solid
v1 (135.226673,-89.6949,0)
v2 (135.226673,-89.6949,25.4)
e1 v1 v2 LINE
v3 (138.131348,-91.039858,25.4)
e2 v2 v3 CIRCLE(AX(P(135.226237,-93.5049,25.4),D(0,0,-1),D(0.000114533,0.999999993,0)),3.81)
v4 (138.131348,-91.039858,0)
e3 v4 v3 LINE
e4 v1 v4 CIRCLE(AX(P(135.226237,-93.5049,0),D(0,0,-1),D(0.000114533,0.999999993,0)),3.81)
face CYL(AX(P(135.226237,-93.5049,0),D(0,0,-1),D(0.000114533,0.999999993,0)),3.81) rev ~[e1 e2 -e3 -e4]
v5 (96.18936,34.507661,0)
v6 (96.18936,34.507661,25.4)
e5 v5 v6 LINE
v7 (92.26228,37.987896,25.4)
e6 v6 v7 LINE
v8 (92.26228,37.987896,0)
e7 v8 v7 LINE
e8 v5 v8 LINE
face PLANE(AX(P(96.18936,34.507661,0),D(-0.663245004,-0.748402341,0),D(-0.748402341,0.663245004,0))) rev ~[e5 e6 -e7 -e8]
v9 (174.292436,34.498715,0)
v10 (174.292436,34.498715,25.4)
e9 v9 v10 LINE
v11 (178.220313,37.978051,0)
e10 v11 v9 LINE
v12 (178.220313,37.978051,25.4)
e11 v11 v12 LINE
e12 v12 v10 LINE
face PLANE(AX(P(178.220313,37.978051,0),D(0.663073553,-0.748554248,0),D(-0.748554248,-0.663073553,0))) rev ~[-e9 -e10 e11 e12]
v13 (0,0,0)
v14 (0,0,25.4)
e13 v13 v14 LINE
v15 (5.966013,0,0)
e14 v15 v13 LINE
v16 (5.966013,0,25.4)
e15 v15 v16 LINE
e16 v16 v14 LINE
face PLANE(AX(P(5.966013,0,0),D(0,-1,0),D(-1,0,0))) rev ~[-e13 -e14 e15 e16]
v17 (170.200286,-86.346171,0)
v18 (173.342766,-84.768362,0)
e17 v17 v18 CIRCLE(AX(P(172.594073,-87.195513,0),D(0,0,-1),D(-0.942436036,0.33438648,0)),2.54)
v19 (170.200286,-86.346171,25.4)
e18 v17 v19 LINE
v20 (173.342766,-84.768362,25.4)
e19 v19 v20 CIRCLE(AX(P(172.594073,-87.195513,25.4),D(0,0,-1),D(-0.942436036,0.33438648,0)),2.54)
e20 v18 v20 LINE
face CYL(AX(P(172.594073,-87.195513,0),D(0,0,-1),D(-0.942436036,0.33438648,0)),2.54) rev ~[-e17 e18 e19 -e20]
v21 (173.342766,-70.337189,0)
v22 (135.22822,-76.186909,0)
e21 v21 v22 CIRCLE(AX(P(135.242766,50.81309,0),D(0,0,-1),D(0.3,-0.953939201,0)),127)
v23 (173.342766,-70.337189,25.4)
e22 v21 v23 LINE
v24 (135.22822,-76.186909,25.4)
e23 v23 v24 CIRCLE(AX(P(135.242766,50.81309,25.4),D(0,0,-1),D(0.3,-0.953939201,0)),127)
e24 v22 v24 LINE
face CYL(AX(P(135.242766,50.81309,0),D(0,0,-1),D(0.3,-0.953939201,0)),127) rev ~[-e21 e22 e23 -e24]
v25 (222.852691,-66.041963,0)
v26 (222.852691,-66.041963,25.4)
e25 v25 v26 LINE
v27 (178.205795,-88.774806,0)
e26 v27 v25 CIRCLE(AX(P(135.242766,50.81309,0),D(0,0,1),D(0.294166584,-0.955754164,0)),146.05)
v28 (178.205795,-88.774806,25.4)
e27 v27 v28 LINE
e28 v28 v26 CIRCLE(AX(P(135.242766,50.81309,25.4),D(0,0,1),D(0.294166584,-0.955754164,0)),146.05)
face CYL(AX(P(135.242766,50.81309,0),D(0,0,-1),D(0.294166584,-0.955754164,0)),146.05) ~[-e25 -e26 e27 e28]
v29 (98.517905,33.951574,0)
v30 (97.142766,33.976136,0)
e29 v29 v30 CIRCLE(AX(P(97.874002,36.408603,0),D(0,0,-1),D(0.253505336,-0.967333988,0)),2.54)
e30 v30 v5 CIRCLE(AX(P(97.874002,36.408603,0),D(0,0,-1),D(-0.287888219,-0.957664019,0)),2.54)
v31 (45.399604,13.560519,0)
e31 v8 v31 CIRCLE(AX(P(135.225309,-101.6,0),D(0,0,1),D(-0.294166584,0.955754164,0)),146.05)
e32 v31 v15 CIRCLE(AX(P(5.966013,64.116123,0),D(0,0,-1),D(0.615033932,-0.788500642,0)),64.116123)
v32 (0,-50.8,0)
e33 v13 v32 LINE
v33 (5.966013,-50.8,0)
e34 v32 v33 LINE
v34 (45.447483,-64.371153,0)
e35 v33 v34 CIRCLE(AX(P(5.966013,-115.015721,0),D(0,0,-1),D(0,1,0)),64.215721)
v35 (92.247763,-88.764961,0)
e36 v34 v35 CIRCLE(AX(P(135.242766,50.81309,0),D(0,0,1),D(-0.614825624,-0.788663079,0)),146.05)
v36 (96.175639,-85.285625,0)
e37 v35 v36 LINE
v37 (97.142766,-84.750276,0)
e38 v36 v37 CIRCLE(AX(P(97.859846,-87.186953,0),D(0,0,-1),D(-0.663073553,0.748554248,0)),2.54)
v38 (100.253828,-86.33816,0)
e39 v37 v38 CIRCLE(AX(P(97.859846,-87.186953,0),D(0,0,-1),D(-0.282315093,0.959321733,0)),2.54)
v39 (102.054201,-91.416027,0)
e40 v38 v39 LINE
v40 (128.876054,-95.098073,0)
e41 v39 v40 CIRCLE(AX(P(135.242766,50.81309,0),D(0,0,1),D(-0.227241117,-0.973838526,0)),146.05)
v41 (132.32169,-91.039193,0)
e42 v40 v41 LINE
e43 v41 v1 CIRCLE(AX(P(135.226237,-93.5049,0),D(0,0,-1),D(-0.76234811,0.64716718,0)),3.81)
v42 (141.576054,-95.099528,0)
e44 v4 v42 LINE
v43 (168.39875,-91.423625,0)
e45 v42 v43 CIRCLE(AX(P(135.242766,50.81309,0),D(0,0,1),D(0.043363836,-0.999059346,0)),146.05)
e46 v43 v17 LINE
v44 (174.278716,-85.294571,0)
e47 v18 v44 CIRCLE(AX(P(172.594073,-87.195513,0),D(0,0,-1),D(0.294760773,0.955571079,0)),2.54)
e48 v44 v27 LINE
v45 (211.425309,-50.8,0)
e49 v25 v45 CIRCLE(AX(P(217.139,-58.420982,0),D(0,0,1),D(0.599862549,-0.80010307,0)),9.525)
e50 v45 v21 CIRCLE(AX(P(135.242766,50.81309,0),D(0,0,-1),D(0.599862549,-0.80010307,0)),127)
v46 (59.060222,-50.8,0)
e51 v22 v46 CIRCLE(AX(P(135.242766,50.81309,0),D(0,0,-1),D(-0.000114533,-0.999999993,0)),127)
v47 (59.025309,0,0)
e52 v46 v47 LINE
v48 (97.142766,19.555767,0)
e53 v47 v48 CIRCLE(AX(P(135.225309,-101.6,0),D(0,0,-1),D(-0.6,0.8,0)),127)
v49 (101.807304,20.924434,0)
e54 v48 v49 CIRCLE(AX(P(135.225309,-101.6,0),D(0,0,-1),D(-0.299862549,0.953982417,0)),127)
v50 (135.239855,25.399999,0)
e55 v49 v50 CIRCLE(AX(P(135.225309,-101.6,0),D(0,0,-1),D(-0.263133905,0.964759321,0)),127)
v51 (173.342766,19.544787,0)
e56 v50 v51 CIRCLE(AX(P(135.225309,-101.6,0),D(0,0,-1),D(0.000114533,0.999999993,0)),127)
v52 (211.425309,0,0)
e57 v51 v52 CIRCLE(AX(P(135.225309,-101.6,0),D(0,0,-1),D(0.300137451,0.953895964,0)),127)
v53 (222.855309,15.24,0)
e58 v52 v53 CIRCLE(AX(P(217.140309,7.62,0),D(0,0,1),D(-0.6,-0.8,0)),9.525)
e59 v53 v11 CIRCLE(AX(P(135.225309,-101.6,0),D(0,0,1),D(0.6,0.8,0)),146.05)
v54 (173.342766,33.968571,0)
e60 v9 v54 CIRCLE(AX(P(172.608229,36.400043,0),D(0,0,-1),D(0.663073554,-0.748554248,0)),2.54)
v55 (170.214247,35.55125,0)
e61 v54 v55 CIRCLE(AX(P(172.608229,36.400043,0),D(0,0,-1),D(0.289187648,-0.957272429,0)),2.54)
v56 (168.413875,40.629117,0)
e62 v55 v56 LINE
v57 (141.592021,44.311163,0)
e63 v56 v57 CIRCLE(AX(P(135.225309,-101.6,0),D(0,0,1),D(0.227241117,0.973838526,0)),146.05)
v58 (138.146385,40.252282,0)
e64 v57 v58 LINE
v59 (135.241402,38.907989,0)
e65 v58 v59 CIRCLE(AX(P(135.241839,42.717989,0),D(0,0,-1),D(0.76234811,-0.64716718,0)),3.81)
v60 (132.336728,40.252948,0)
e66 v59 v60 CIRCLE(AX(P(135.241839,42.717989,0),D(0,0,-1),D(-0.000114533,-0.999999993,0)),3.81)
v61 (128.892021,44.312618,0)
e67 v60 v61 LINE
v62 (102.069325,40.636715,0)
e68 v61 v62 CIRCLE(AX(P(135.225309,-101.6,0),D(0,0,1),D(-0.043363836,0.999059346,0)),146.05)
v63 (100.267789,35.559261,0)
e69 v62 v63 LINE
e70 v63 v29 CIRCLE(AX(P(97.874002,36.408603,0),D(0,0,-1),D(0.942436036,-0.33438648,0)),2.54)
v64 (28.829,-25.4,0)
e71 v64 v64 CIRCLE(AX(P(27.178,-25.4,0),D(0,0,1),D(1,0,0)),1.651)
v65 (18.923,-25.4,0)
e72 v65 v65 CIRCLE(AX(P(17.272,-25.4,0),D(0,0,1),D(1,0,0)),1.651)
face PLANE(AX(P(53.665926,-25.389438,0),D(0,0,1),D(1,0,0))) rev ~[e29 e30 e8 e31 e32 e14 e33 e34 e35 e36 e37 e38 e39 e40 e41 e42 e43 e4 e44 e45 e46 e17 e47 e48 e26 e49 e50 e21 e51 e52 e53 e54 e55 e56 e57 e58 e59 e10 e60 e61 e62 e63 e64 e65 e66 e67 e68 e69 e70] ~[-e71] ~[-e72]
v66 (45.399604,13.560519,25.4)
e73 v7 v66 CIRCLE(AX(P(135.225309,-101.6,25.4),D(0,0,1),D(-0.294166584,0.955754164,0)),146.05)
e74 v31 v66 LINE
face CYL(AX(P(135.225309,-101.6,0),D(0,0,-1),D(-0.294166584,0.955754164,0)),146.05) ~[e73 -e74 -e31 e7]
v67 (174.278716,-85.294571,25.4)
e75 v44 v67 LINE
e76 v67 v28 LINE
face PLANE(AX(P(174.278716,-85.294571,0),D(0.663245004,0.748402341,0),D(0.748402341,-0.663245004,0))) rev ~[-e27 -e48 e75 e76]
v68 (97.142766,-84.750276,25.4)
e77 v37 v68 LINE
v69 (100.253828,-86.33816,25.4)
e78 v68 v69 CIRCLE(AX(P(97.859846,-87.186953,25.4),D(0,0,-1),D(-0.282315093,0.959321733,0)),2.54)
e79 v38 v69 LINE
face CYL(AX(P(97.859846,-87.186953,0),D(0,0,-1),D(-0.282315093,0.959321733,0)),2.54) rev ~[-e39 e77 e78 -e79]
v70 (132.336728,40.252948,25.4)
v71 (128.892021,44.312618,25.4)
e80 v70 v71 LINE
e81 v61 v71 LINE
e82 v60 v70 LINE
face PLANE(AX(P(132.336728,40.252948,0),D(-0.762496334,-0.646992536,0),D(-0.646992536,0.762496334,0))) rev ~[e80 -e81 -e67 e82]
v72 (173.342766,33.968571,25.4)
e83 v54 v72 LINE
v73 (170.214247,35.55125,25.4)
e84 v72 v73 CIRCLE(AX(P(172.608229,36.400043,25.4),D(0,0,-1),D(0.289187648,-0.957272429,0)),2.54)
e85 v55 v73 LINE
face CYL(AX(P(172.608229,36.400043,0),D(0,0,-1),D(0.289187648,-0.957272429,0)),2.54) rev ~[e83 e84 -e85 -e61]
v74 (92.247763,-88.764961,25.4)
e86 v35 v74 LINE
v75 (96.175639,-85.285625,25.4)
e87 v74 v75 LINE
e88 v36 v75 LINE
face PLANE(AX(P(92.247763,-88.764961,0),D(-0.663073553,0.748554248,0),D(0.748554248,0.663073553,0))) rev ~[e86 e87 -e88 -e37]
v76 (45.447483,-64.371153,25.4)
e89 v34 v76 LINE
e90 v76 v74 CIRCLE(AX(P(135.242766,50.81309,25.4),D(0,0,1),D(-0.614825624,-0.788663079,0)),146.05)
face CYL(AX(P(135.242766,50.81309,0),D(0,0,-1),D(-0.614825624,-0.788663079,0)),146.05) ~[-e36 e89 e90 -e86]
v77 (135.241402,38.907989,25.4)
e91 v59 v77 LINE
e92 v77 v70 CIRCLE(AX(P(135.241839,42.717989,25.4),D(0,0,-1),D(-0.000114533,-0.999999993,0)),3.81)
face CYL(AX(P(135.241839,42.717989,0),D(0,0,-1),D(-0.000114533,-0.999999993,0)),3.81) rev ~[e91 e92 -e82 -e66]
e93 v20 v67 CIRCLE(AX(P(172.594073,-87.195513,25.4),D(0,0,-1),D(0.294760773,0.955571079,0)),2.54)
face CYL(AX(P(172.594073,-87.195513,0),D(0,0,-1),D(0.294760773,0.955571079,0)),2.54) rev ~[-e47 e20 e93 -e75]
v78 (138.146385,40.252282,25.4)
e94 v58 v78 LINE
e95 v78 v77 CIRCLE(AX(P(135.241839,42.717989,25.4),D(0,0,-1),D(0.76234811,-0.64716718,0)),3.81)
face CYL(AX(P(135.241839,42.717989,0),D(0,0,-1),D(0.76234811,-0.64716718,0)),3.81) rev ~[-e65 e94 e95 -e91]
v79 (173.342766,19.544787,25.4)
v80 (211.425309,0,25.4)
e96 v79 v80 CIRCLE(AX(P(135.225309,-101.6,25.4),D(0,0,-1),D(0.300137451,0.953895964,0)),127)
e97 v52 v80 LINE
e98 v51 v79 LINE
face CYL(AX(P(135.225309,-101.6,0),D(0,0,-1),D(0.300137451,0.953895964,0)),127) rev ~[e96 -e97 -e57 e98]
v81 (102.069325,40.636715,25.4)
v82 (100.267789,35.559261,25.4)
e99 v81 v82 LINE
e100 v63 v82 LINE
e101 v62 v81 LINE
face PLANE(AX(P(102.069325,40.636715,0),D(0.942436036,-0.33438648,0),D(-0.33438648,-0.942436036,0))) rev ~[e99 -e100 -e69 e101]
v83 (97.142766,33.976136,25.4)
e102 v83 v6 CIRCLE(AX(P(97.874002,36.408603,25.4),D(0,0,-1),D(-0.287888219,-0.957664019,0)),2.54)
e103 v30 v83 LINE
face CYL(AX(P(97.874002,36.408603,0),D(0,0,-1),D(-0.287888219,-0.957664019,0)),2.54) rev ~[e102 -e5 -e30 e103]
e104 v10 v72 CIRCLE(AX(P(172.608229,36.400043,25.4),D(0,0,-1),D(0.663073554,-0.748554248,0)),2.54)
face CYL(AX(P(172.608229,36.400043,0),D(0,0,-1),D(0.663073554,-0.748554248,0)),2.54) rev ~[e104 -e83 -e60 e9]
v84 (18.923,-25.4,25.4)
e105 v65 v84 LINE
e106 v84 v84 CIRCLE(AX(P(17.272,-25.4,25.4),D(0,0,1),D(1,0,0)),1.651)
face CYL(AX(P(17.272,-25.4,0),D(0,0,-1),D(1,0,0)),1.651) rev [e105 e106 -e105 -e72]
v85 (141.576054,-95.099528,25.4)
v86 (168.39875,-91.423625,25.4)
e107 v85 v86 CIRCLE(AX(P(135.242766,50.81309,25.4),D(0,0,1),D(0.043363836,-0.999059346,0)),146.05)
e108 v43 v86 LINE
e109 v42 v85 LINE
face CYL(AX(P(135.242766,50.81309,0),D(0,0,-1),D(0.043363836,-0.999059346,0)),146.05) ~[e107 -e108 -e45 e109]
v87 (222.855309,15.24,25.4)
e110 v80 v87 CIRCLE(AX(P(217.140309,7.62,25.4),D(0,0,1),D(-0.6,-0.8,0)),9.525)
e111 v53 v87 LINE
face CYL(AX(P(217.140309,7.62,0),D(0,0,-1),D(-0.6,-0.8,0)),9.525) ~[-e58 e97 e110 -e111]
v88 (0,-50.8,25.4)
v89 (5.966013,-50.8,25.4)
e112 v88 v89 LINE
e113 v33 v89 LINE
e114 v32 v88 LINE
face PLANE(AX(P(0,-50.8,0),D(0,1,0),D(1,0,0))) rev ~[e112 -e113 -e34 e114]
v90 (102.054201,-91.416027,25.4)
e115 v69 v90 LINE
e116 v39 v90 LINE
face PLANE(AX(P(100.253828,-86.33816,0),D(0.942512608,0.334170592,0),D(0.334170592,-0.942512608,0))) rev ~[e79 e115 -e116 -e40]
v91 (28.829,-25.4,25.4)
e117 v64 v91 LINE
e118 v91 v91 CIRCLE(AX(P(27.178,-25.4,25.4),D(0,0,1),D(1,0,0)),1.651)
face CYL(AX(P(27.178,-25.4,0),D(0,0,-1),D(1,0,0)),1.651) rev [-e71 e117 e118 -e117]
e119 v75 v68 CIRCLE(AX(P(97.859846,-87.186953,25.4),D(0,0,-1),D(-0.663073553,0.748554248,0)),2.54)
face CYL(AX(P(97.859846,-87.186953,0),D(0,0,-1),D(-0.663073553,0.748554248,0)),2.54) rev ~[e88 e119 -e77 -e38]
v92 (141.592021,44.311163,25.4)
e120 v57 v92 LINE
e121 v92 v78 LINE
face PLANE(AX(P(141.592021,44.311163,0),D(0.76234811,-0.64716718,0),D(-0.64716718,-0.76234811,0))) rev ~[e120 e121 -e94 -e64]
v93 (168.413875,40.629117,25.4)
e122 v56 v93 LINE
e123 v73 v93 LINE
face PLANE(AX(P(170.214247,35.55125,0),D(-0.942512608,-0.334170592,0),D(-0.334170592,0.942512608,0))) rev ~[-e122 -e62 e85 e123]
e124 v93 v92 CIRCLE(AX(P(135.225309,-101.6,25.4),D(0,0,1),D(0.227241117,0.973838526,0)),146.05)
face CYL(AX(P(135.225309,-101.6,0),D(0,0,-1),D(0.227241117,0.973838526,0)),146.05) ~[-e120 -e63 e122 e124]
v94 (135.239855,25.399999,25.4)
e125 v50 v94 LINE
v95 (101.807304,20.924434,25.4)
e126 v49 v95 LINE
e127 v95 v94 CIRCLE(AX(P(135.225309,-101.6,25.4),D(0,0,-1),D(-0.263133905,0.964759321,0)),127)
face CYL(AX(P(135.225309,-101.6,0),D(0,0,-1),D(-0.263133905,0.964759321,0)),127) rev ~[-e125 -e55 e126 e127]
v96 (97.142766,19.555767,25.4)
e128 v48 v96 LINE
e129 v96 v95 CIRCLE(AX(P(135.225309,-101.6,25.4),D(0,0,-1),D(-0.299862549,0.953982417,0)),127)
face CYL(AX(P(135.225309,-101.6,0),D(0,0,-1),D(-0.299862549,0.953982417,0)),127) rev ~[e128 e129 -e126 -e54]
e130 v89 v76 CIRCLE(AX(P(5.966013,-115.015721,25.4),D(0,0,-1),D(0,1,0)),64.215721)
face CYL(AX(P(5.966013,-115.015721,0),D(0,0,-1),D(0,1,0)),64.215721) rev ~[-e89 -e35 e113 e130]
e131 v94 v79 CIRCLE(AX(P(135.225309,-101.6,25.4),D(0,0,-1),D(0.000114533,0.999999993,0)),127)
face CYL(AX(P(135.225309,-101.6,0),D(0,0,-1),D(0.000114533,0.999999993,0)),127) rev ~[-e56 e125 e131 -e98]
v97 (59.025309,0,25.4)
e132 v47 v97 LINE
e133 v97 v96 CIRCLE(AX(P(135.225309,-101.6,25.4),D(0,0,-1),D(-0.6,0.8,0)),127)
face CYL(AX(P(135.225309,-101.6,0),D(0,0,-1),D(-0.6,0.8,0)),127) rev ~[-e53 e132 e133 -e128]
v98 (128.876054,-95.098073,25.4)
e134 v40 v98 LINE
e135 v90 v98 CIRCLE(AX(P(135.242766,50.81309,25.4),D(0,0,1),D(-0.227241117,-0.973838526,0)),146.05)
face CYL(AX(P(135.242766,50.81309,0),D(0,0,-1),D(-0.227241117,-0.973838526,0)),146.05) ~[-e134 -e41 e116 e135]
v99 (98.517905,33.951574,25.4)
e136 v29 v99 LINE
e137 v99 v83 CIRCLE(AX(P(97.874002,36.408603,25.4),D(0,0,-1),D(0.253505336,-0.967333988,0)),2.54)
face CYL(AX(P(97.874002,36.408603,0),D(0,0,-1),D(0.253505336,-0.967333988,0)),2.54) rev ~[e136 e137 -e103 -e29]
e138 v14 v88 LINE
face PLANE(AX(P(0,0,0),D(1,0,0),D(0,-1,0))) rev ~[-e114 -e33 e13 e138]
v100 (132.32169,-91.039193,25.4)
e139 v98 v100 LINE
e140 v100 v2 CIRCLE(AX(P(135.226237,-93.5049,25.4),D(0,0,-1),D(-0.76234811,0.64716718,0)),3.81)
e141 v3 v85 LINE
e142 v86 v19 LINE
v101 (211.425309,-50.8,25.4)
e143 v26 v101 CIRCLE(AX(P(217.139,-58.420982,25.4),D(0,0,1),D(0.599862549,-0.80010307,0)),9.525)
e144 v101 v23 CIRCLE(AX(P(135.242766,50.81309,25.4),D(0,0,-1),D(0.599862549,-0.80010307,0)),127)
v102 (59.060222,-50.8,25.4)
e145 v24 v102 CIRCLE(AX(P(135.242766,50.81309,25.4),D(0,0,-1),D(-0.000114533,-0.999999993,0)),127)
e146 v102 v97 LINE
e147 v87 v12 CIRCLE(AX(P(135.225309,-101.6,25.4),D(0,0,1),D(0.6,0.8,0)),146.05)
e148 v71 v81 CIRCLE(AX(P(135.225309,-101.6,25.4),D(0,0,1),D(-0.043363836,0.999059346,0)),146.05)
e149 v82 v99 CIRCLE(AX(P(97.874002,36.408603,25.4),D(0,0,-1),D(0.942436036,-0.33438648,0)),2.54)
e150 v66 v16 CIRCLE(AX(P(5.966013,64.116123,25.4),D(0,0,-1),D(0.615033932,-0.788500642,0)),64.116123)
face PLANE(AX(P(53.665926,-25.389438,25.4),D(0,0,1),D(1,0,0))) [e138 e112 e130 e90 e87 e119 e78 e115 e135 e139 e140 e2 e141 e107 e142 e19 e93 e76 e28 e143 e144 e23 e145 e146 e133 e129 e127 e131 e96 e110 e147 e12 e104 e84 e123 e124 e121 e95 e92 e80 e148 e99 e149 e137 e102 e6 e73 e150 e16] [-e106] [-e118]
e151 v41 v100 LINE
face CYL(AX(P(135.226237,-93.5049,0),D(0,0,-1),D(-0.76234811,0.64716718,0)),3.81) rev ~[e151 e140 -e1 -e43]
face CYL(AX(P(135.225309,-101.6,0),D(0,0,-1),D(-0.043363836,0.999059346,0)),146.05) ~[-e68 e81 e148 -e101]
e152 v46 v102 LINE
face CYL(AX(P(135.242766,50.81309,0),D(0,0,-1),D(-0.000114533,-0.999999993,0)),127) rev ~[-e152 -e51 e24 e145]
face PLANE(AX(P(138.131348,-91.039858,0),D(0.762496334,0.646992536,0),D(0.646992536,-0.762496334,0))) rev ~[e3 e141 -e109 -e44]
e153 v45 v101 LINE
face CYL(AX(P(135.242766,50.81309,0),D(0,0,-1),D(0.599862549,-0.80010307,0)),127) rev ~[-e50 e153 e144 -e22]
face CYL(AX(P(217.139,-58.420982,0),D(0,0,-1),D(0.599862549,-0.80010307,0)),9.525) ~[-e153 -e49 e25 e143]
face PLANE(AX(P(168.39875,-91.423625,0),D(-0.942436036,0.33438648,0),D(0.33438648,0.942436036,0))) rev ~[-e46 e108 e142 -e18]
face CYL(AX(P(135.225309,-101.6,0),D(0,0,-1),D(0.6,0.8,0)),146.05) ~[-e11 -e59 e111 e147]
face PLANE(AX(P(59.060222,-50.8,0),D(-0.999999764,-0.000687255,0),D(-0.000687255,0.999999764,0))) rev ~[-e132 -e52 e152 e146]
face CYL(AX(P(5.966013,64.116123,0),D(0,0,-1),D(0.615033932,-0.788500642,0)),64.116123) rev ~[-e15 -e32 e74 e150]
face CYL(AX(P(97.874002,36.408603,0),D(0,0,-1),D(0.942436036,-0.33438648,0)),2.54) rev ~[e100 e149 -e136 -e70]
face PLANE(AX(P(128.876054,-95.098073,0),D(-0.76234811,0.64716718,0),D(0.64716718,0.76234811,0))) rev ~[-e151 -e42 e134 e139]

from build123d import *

# Parameters (mm, degrees)
F0_R     = 1.651
F1_DEPTH = 25.4


with BuildPart() as f1:
    # F0 (on Top) → F1 (new body)
    with BuildSketch(Plane.XY):
        with BuildLine():
            Line((5.9660125897, 0), (0, 0))
            Line((0, 0), (0, -50.8))
            Line((0, -50.8), (5.9660125897, -50.8))
            ThreePointArc((5.9660125897, -50.8), (26.8404151011, -54.2874891517), (45.4474833472, -64.3711527752))
            ThreePointArc((45.4474833472, -64.3711527752), (67.7366219489, -78.6995467545), (92.2477625944, -88.7649606997))
            Line((92.2477625944, -88.7649606997), (96.1756392809, -85.285625491))
            ThreePointArc((96.1756392809, -85.285625491), (96.6297262922, -84.9647009914), (97.1427657695, -84.7502760791))
            Line((97.1427657695, -84.7502760791), (97.1427657695, -70.3371887059))
            ThreePointArc((97.1427657695, -70.3371887059), (77.2725114585, -62.1844747684), (59.0602220587, -50.8))
            Line((59.0602220587, -50.8), (59.0253094804, 0))
            ThreePointArc((59.0253094804, 0), (77.2534891322, 11.396761217), (97.1427657695, 19.555766947))
            Line((97.1427657695, 19.555766947), (97.1427657695, 33.9761360632))
            ThreePointArc((97.1427657695, 33.9761360632), (96.6371725478, 34.190077646), (96.1893595345, 34.5076607246))
            Line((96.1893595345, 34.5076607246), (92.2622799467, 37.987895583))
            ThreePointArc((92.2622799467, 37.987895583), (67.7168934482, 27.9114522536), (45.3996037793, 13.5605188218))
            ThreePointArc((45.3996037793, 13.5605188218), (26.8160472709, 3.4848333701), (5.9660125897, 0))
        make_face()
        with Locations((17.272, -25.4)):
            Circle(F0_R, mode=Mode.SUBTRACT)
        with Locations((27.178, -25.4)):
            Circle(F0_R, mode=Mode.SUBTRACT)
        with BuildLine():
            Line((173.3427657695, 33.9685711851), (173.3427657695, 19.5447874489))
            ThreePointArc((173.3427657695, 19.5447874489), (193.2134106927, 11.3884070061), (211.4253094804, 0))
            ThreePointArc((211.4253094804, 0), (224.7603094804, 1.905), (222.8553094804, 15.24))
            ThreePointArc((222.8553094804, 15.24), (201.5199367106, 28.5369467154), (178.2203126555, 37.9780505738))
            Line((178.2203126555, 37.9780505738), (174.292435969, 34.4987153651))
            ThreePointArc((174.292435969, 34.4987153651), (173.8463095868, 34.1822161077), (173.3427657695, 33.9685711851))
        make_face()
        with BuildLine():
            ThreePointArc((211.4253094804, -50.8), (193.2130200806, -62.1844747684), (173.3427657695, -70.3371887059))
            Line((173.3427657695, -70.3371887059), (173.3427657695, -84.7683622579))
            ThreePointArc((173.3427657695, -84.7683622579), (173.8388638616, -84.9814448856), (174.2787157154, -85.2945708506))
            Line((174.2787157154, -85.2945708506), (178.2057953033, -88.7748057089))
            ThreePointArc((178.2057953033, -88.7748057089), (201.5113077809, -79.337141934), (222.852691037, -66.0419634811))
            ThreePointArc((222.852691037, -66.0419634811), (224.7599819992, -52.7072909622), (211.4253094804, -50.8))
        make_face()
        with BuildLine():
            ThreePointArc((128.892021211, 44.312617548), (115.3953137669, 43.0975250998), (102.0693249913, 40.6367153465))
            Line((102.0693249913, 40.6367153465), (100.2677893758, 35.5592610119))
            ThreePointArc((100.2677893758, 35.5592610119), (99.5924476221, 34.538163122), (98.5179053993, 33.9515743424))
            Line((98.5179053993, 33.9515743424), (101.8073036013, 20.9244338206))
            ThreePointArc((101.8073036013, 20.9244338206), (118.374331468, 24.2771009359), (135.2398551386, 25.399999167))
            Line((135.2398551386, 25.399999167), (135.2414022457, 38.9079894532))
            ThreePointArc((135.2414022457, 38.9079894532), (133.6409701921, 39.2606320138), (132.3367275841, 40.2529478676))
            Line((132.3367275841, 40.2529478676), (128.892021211, 44.312617548))
        make_face()
        with BuildLine():
            ThreePointArc((98.5179053993, 33.9515743424), (97.8286414895, 33.8690077361), (97.1427657695, 33.9761360632))
            Line((97.1427657695, 33.9761360632), (97.1427657695, 19.555766947))
            ThreePointArc((97.1427657695, 19.555766947), (99.468485514, 20.2624205399), (101.8073036013, 20.9244338206))
            Line((101.8073036013, 20.9244338206), (98.5179053993, 33.9515743424))
        make_face()
        with BuildLine():
            Line((135.2414022457, 38.9079894532), (135.2398551386, 25.399999167))
            ThreePointArc((135.2398551386, 25.399999167), (154.5147695349, 23.9265578705), (173.3427657695, 19.5447874489))
            Line((173.3427657695, 19.5447874489), (173.3427657695, 33.9685711851))
            ThreePointArc((173.3427657695, 33.9685711851), (171.46164391, 34.1335607927), (170.2142471201, 35.5512498522))
            Line((170.2142471201, 35.5512498522), (168.4138746214, 40.6291167233))
            ThreePointArc((168.4138746214, 40.6291167233), (155.088449882, 43.092978936), (141.5920211277, 44.3111629821))
            Line((141.5920211277, 44.3111629821), (138.1463849147, 40.2522824716))
            ThreePointArc((138.1463849147, 40.2522824716), (136.8419150357, 39.2602654008), (135.2414022457, 38.9079894532))
        make_face()
        with BuildLine():
            ThreePointArc((173.3427657695, -70.3371887059), (154.5088049536, -74.7170648066), (135.2282201113, -76.186909293))
            Line((135.2282201113, -76.186909293), (135.2266730042, -89.6948995791))
            ThreePointArc((135.2266730042, -89.6948995791), (136.8271050578, -90.0475421398), (138.1313476658, -91.0398579935))
            Line((138.1313476658, -91.0398579935), (141.5760540389, -95.0995276739))
            ThreePointArc((141.5760540389, -95.0995276739), (155.072761483, -93.8844352257), (168.3987502586, -91.4236254724))
            Line((168.3987502586, -91.4236254724), (170.2002858741, -86.3461711378))
            ThreePointArc((170.2002858741, -86.3461711378), (171.4543564481, -84.9255689093), (173.3427657695, -84.7683622579))
            Line((173.3427657695, -84.7683622579), (173.3427657695, -70.3371887059))
        make_face()
        with BuildLine():
            Line((100.2538281298, -86.3381599782), (102.0542006285, -91.4160268492))
            ThreePointArc((102.0542006285, -91.4160268492), (115.3796253679, -93.879889062), (128.8760541222, -95.0980731081))
            Line((128.8760541222, -95.0980731081), (132.3216903352, -91.0391925976))
            ThreePointArc((132.3216903352, -91.0391925976), (133.6261602142, -90.0471755268), (135.2266730042, -89.6948995791))
            Line((135.2266730042, -89.6948995791), (135.2282201113, -76.186909293))
            ThreePointArc((135.2282201113, -76.186909293), (115.962349399, -74.714857391), (97.1427657695, -70.3371887059))
            Line((97.1427657695, -70.3371887059), (97.1427657695, -84.7502760791))
            ThreePointArc((97.1427657695, -84.7502760791), (99.0145511059, -84.9245969075), (100.2538281298, -86.3381599782))
        make_face()
    extrude(amount=F1_DEPTH)


solid = f1.part
